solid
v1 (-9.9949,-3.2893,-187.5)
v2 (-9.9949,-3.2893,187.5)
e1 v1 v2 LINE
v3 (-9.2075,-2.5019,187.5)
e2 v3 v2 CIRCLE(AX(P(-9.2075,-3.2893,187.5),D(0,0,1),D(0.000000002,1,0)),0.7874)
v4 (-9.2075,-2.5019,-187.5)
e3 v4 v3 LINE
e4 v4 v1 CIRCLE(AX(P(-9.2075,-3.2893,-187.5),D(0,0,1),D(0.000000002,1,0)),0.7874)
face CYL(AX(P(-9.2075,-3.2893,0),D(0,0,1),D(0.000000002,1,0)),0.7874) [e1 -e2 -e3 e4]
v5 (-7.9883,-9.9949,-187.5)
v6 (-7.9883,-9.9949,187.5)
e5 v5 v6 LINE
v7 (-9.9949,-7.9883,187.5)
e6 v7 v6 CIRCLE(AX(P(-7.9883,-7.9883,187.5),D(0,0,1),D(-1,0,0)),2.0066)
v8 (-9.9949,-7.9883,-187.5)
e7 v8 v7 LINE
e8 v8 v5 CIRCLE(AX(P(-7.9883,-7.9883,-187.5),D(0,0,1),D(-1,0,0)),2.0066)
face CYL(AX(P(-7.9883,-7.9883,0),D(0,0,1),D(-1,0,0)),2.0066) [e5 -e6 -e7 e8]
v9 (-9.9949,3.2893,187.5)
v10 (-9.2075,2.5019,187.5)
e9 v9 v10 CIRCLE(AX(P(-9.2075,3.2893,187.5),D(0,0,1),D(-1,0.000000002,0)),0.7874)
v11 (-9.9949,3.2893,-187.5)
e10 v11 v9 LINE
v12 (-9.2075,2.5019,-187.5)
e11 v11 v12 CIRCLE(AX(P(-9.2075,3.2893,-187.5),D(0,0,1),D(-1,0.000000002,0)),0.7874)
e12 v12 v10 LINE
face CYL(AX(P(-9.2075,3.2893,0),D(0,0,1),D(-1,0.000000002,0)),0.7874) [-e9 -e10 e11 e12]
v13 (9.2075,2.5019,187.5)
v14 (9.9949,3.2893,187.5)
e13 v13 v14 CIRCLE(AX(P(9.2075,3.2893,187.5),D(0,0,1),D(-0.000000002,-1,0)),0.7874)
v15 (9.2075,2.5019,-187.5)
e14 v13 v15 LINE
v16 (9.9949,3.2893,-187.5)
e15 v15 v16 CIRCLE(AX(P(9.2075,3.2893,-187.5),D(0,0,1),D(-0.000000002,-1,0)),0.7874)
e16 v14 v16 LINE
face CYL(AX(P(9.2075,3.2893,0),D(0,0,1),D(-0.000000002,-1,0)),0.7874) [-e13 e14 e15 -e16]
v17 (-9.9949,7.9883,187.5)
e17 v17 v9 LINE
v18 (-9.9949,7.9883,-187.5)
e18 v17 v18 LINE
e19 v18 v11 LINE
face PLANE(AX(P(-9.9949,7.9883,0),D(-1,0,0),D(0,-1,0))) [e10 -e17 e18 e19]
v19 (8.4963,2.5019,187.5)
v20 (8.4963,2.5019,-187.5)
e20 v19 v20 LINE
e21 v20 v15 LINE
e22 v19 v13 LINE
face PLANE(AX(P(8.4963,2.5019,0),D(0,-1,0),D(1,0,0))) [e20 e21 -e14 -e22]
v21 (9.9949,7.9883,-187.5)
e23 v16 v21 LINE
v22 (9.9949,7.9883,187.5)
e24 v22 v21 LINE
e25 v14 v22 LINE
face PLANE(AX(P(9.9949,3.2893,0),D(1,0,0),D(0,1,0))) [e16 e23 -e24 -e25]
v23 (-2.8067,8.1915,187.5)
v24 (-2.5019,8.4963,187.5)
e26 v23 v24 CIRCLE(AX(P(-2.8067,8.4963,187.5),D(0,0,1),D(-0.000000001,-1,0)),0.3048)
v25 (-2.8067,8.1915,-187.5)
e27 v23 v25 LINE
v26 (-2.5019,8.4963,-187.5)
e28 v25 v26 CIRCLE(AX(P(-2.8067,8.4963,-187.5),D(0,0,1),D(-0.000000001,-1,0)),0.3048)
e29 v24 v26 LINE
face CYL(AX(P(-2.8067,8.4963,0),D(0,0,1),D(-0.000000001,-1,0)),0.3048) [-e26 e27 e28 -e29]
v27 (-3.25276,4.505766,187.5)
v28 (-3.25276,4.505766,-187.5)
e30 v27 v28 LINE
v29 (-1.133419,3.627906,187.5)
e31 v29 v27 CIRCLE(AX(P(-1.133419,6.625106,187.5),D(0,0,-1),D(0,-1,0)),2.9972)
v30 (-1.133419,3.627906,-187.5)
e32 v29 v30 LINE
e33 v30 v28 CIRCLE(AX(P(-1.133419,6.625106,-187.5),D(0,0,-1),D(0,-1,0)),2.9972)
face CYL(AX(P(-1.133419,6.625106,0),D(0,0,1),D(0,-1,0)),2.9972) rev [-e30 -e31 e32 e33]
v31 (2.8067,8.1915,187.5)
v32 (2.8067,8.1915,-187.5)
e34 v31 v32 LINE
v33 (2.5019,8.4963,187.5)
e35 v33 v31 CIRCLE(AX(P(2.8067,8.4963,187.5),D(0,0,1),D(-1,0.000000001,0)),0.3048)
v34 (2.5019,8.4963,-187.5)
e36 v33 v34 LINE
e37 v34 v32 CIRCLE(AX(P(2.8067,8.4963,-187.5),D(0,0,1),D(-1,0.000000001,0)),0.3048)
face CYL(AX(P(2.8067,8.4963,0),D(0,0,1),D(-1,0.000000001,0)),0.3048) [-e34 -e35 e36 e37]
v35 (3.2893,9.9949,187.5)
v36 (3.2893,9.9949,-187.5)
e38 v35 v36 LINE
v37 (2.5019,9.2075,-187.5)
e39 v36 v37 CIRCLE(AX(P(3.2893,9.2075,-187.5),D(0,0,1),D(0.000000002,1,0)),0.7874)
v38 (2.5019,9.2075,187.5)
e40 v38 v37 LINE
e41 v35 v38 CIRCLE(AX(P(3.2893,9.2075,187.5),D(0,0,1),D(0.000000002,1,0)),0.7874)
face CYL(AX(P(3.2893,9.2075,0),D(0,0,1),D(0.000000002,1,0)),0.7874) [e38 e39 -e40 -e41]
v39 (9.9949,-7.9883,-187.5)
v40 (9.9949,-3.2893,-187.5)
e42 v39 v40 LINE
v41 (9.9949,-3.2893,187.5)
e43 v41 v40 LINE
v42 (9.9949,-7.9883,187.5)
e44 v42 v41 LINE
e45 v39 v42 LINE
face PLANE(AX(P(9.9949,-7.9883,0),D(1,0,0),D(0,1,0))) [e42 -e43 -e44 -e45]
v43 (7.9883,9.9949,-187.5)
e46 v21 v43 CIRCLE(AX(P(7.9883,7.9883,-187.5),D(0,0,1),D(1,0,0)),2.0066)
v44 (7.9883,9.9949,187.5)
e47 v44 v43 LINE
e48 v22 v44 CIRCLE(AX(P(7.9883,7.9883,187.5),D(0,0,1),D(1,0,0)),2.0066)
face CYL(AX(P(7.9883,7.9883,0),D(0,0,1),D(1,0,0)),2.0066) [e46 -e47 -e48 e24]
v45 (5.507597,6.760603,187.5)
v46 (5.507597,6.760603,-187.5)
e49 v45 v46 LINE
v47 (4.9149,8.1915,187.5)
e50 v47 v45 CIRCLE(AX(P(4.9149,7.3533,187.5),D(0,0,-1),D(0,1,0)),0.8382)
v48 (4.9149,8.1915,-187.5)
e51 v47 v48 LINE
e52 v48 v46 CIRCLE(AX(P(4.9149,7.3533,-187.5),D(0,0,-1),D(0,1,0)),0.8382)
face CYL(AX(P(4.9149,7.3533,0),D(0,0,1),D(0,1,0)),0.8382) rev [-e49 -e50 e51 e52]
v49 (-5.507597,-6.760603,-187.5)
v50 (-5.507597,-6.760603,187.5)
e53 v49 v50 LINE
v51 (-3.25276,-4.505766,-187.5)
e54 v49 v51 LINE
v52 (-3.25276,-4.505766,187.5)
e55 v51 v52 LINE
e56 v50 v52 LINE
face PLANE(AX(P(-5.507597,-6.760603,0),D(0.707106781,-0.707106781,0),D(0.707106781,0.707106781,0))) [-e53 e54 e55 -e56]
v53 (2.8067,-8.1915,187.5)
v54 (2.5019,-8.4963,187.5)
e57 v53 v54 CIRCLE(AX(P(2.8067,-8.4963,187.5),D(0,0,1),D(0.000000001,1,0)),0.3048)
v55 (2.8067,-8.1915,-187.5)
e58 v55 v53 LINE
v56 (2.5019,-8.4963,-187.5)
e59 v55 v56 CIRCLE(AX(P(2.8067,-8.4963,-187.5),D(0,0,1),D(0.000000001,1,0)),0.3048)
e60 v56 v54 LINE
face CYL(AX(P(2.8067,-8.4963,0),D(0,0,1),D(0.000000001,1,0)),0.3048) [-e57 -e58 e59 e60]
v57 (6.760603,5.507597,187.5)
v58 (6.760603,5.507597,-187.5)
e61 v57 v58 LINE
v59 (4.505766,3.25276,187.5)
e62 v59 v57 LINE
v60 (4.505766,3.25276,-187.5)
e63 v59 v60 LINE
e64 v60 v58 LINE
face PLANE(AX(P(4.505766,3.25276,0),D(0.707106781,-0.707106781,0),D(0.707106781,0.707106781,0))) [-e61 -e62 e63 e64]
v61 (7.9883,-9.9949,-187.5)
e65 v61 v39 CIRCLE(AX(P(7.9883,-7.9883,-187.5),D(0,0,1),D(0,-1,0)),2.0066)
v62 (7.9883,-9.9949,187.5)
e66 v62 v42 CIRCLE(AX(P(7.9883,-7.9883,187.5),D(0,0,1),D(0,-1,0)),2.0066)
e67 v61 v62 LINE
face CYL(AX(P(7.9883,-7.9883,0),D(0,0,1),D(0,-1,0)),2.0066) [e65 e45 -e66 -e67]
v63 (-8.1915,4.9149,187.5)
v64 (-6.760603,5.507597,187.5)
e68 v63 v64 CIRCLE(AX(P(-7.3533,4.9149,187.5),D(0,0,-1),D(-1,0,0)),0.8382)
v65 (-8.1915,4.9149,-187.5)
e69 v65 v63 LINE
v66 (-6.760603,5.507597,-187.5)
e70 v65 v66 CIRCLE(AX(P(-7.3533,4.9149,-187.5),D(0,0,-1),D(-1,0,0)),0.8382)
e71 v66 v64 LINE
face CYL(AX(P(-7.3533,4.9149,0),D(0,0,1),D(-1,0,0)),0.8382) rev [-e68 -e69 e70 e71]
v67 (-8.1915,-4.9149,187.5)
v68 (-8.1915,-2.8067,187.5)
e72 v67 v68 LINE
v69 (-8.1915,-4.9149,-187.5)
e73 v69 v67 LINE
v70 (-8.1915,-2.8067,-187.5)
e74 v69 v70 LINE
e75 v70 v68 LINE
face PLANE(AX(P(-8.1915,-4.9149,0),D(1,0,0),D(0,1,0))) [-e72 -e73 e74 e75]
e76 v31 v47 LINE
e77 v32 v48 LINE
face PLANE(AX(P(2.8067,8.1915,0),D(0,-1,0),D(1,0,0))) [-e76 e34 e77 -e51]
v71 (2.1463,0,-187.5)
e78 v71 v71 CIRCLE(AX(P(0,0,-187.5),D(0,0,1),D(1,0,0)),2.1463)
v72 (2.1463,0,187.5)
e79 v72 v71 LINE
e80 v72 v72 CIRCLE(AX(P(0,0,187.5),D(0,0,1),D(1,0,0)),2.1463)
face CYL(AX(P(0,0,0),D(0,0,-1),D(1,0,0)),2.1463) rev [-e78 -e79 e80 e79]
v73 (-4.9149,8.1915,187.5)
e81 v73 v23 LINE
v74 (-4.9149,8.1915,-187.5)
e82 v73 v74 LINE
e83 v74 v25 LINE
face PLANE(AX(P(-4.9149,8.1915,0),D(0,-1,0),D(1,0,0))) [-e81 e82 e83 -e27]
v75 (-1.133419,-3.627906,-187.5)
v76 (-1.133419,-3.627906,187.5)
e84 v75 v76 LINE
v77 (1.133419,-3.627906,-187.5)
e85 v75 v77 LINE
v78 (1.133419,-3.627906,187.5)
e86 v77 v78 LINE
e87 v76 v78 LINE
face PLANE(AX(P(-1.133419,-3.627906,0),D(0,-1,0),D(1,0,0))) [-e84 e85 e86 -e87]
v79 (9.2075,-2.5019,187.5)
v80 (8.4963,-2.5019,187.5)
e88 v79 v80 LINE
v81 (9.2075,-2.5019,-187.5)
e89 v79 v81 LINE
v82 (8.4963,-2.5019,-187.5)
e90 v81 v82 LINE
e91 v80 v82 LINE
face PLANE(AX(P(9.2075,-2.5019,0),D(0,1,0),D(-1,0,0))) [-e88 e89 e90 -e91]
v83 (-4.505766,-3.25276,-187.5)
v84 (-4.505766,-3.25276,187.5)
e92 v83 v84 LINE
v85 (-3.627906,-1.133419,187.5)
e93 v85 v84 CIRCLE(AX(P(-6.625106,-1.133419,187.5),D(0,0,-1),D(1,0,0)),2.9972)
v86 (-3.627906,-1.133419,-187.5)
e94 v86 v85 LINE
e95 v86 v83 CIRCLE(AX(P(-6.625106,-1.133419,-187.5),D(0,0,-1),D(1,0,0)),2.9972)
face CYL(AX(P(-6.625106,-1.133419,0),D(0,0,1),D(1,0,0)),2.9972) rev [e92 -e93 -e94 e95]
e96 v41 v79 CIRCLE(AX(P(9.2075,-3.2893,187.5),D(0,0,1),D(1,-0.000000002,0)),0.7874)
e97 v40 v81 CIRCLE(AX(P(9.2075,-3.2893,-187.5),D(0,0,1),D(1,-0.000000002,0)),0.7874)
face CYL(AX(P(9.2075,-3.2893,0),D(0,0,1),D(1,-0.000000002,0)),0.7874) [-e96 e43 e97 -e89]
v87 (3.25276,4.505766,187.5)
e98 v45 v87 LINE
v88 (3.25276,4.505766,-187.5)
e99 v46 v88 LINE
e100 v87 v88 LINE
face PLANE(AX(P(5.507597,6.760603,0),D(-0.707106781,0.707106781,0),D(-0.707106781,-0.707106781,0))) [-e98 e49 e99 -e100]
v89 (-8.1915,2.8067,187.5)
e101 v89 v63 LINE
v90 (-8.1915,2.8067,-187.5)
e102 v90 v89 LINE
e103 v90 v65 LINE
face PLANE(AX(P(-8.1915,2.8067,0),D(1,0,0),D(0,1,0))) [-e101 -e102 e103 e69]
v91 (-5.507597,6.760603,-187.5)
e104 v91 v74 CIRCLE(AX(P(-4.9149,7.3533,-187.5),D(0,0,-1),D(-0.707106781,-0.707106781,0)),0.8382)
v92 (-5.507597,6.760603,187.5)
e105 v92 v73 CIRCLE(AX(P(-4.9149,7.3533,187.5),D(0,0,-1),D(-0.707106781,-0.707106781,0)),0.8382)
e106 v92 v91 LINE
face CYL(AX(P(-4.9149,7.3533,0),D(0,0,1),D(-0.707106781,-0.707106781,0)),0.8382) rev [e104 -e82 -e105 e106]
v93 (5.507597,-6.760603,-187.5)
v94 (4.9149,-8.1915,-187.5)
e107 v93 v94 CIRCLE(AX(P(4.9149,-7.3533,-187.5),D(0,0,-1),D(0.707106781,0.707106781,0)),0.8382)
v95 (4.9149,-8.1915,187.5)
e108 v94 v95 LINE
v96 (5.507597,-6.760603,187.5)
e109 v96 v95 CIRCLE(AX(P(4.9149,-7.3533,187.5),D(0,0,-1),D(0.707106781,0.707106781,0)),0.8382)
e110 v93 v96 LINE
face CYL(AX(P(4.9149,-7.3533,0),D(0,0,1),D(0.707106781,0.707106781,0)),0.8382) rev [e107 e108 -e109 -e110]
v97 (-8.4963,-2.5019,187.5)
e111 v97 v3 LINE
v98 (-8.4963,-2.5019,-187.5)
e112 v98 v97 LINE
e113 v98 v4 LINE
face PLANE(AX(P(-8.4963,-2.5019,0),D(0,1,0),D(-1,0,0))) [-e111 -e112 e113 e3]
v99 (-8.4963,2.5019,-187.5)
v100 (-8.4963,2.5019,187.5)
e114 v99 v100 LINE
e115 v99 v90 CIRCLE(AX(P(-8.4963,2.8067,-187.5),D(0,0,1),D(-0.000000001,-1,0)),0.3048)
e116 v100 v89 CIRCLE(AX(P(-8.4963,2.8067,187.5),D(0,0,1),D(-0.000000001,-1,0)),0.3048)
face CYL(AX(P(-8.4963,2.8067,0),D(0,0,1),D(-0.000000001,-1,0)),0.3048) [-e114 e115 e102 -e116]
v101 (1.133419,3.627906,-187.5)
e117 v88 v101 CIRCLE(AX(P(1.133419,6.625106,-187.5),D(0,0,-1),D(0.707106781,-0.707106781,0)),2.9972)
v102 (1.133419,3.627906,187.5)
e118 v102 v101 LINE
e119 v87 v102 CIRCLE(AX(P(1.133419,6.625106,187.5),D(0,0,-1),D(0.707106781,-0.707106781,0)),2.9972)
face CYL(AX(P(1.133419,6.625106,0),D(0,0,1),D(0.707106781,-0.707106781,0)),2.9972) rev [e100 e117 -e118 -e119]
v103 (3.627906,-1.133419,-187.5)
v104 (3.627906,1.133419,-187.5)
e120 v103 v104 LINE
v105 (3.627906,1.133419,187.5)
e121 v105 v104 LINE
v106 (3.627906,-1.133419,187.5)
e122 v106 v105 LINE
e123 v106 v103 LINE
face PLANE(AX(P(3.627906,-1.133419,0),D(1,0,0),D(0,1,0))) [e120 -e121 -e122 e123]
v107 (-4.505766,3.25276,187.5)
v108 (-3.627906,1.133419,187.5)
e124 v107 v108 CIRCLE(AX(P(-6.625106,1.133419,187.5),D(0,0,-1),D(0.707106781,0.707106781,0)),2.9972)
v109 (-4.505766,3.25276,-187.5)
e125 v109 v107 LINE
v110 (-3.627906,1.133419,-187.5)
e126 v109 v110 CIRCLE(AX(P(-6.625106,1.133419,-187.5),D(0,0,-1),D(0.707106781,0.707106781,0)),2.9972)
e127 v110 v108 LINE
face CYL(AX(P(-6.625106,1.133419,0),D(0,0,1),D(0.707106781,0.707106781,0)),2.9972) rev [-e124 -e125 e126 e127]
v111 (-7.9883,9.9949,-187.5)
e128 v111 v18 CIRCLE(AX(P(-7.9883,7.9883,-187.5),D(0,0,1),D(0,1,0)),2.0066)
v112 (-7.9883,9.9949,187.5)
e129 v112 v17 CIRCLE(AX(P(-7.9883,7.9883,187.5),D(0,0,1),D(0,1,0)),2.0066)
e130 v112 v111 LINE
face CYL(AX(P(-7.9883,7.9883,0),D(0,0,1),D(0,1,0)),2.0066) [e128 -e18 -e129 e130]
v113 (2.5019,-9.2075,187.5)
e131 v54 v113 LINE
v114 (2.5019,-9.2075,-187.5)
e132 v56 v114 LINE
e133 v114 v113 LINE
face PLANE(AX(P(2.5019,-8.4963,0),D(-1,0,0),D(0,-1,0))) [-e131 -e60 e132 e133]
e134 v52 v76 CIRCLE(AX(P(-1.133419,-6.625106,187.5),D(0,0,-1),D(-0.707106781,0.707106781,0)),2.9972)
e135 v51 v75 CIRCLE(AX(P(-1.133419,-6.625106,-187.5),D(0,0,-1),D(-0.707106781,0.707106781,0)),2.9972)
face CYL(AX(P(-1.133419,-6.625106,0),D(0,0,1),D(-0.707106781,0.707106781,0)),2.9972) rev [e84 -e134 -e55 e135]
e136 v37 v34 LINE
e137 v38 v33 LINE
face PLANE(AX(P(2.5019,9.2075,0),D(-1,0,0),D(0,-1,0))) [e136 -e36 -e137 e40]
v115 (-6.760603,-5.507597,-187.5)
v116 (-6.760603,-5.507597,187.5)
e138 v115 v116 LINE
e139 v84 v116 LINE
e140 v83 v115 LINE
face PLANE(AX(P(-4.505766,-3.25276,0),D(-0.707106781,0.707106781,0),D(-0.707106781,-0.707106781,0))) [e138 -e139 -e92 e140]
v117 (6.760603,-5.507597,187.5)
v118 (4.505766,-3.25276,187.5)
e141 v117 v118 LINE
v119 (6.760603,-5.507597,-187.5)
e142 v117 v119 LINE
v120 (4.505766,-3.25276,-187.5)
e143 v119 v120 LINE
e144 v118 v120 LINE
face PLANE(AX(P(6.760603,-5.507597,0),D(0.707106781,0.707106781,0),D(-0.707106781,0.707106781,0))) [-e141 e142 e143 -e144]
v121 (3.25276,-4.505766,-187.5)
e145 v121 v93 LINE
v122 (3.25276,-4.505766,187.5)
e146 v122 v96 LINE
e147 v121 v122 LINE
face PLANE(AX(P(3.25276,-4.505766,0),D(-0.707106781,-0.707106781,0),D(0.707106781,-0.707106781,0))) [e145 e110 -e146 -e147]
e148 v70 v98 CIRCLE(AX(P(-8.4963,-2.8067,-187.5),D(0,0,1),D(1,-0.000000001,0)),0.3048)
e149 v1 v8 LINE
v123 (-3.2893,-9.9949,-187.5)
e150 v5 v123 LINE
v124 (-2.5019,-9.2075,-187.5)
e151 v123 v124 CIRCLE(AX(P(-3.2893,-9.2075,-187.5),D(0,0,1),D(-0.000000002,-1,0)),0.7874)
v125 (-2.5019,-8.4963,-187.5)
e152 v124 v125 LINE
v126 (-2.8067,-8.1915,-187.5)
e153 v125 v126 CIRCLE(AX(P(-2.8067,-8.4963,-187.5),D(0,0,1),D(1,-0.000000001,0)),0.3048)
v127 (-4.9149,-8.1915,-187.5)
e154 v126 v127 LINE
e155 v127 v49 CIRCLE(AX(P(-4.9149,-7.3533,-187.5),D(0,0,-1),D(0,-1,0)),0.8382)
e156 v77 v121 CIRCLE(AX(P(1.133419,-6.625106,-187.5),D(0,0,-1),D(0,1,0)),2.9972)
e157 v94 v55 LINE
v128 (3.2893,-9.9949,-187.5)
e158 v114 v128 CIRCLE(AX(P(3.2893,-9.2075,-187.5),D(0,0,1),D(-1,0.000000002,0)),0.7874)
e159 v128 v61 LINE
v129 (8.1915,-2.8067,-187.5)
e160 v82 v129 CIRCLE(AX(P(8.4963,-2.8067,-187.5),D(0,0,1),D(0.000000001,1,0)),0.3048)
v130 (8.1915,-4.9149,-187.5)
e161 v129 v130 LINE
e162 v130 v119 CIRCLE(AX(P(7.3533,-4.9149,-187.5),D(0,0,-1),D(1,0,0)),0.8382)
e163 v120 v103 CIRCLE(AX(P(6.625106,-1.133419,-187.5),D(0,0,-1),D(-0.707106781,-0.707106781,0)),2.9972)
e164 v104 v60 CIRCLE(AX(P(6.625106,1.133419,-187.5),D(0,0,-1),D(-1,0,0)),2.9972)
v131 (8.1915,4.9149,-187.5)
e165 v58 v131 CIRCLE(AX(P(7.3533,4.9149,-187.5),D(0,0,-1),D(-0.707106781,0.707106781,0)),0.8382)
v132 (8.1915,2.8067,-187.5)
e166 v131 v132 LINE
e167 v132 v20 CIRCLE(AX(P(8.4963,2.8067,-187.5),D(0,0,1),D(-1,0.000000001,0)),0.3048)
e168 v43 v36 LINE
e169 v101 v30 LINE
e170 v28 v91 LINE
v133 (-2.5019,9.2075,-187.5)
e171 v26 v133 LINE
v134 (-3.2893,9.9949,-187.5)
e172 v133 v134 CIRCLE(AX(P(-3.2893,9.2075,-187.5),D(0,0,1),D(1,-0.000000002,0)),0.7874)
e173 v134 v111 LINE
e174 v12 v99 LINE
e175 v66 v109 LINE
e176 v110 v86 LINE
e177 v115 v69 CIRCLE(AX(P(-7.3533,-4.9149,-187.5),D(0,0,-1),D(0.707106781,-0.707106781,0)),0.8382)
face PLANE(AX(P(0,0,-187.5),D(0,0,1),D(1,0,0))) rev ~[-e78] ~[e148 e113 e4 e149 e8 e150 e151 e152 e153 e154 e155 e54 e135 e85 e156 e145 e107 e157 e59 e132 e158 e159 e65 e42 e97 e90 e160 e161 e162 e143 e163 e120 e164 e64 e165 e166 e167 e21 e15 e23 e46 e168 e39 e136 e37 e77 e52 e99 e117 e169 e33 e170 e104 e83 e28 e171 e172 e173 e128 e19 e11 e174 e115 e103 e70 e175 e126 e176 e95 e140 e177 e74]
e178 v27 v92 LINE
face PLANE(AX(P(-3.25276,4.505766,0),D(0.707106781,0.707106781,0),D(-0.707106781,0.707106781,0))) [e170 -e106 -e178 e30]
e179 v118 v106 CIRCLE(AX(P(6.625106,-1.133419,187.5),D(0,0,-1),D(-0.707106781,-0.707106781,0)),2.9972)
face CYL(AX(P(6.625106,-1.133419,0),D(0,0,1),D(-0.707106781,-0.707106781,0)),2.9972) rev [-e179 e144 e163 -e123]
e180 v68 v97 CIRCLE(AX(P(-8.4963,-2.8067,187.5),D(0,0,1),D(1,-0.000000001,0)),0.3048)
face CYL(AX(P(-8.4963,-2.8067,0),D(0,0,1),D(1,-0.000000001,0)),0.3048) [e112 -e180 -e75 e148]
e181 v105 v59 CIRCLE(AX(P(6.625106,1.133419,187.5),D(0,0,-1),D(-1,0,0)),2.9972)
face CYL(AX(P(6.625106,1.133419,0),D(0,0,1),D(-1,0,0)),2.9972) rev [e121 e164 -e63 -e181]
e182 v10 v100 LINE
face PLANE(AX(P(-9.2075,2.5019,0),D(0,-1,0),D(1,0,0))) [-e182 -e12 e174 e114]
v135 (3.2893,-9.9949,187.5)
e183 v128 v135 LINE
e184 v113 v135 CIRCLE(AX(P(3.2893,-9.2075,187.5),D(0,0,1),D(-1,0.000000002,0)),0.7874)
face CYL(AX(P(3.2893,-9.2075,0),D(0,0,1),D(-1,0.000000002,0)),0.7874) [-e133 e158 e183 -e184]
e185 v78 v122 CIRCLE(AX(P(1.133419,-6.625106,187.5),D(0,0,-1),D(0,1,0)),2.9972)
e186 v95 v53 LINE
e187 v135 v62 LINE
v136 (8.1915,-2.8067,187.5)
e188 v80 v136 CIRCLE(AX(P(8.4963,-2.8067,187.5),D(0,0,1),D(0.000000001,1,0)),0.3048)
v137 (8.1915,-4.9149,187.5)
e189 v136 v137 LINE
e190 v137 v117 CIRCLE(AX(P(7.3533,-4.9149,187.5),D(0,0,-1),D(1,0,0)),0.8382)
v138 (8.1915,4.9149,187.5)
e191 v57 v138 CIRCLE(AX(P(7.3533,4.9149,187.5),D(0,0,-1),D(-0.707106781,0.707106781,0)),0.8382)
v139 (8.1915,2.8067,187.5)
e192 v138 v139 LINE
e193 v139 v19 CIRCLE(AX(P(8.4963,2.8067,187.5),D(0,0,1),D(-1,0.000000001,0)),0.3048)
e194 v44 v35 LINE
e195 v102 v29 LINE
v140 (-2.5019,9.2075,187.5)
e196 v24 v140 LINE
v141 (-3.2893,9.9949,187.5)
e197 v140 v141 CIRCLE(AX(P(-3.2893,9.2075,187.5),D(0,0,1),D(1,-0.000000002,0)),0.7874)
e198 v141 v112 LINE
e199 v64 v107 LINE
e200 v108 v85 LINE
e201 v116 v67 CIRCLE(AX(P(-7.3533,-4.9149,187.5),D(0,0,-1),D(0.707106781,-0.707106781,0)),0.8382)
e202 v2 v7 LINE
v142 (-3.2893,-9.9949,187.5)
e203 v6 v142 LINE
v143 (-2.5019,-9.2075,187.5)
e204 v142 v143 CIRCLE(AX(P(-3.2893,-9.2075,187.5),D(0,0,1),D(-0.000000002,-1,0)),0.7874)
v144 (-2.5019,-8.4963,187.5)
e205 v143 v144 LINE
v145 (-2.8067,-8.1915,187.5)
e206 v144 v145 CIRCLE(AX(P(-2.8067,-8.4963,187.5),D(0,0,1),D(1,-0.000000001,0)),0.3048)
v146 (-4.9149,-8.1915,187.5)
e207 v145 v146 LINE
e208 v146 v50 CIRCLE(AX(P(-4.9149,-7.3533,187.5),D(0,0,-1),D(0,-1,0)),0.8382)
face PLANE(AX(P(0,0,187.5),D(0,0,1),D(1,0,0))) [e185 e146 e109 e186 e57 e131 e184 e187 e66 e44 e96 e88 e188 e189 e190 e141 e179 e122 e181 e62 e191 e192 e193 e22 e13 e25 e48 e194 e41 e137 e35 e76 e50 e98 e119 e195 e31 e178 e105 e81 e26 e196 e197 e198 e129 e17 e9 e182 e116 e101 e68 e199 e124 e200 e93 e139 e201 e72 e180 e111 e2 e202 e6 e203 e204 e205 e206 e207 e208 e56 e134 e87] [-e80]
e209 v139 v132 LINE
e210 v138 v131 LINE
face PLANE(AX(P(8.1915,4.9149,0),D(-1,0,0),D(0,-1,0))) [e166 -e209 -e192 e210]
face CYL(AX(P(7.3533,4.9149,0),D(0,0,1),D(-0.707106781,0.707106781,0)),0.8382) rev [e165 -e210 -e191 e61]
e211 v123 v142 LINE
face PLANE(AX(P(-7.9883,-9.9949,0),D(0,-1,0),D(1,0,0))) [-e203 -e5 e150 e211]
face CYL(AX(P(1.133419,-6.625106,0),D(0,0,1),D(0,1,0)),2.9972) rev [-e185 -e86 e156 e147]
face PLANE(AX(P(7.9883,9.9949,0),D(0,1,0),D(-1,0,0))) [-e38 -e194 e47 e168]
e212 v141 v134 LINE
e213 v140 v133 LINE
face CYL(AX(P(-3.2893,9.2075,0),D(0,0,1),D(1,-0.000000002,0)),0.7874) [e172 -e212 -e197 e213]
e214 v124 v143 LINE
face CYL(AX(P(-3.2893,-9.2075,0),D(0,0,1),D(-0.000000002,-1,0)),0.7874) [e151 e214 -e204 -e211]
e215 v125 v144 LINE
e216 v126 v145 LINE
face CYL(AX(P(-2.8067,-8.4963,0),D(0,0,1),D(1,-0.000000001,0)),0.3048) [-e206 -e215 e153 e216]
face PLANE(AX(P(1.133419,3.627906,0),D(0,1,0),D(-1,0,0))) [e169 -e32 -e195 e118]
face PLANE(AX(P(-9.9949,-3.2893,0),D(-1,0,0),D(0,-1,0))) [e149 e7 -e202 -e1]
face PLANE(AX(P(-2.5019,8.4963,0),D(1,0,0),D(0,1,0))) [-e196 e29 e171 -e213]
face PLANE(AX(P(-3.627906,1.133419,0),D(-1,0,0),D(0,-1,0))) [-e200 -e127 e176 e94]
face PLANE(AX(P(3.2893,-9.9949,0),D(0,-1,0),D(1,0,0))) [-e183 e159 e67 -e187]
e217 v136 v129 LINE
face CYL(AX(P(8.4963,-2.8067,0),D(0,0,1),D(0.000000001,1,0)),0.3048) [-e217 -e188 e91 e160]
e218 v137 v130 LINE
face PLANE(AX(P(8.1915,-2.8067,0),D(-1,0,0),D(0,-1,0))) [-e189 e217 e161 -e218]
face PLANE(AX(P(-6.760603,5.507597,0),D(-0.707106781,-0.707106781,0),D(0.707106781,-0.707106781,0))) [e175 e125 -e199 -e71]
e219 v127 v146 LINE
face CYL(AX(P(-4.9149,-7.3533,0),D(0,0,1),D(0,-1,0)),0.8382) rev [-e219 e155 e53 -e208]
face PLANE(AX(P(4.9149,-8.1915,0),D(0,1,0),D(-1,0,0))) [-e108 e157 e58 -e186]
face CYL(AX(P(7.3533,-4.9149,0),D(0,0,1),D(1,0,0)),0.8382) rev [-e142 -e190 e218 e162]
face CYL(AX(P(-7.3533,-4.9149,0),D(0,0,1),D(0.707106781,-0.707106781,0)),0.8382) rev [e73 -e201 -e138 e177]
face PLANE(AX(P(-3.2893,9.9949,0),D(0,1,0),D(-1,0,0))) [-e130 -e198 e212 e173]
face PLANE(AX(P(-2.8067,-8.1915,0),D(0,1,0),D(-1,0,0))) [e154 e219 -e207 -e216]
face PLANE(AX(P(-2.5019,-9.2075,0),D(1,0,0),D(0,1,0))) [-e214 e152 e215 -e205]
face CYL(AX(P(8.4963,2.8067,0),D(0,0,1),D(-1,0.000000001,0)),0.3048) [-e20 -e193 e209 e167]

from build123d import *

# Parameters (mm, degrees)
SKETCH1_R           = 2.1463
BOSS_EXTRUDE1_DEPTH = 187.5


with BuildPart() as part:
    # Sketch1 → Boss-Extrude1 (new body, symmetric)
    with BuildSketch(Plane.XY):
        with BuildLine():
            Line((-9.9949, 7.9883), (-9.9949, 3.2893))
            ThreePointArc((-9.9949, 3.2893), (-9.76427588, 2.73252412), (-9.2075, 2.5019))
            Line((-9.2075, 2.5019), (-8.4963, 2.5019))
            ThreePointArc((-8.4963, 2.5019), (-8.280773853, 2.591173853), (-8.1915, 2.8067))
            Line((-8.1915, 2.8067), (-8.1915, 4.9149))
            ThreePointArc((-8.1915, 4.9149), (-7.674065253, 5.689295824), (-6.760603096, 5.507596904))
            Line((-6.760603096, 5.507596904), (-4.505765747, 3.252759555))
            ThreePointArc((-4.505765747, 3.252759555), (-3.856054457, 2.280397894), (-3.627906192, 1.133419111))
            Line((-3.627906192, 1.133419111), (-3.627906192, -1.133419111))
            ThreePointArc((-3.627906192, -1.133419111), (-3.856054457, -2.280397894), (-4.505765747, -3.252759555))
            Line((-4.505765747, -3.252759555), (-6.760603096, -5.507596904))
            ThreePointArc((-6.760603096, -5.507596904), (-7.674065253, -5.689295824), (-8.1915, -4.9149))
            Line((-8.1915, -4.9149), (-8.1915, -2.8067))
            ThreePointArc((-8.1915, -2.8067), (-8.280773853, -2.591173853), (-8.4963, -2.5019))
            Line((-8.4963, -2.5019), (-9.2075, -2.5019))
            ThreePointArc((-9.2075, -2.5019), (-9.76427588, -2.73252412), (-9.9949, -3.2893))
            Line((-9.9949, -3.2893), (-9.9949, -7.9883))
            ThreePointArc((-9.9949, -7.9883), (-9.407180467, -9.407180467), (-7.9883, -9.9949))
            Line((-7.9883, -9.9949), (-3.2893, -9.9949))
            ThreePointArc((-3.2893, -9.9949), (-2.73252412, -9.76427588), (-2.5019, -9.2075))
            Line((-2.5019, -9.2075), (-2.5019, -8.4963))
            ThreePointArc((-2.5019, -8.4963), (-2.591173853, -8.280773853), (-2.8067, -8.1915))
            Line((-2.8067, -8.1915), (-4.9149, -8.1915))
            ThreePointArc((-4.9149, -8.1915), (-5.689295824, -7.674065253), (-5.507596904, -6.760603096))
            Line((-5.507596904, -6.760603096), (-3.252759555, -4.505765747))
            ThreePointArc((-3.252759555, -4.505765747), (-2.280397894, -3.856054457), (-1.133419111, -3.627906192))
            Line((-1.133419111, -3.627906192), (1.133419111, -3.627906192))
            ThreePointArc((1.133419111, -3.627906192), (2.280397894, -3.856054457), (3.252759555, -4.505765747))
            Line((3.252759555, -4.505765747), (5.507596904, -6.760603096))
            ThreePointArc((5.507596904, -6.760603096), (5.689295824, -7.674065253), (4.9149, -8.1915))
            Line((4.9149, -8.1915), (2.8067, -8.1915))
            ThreePointArc((2.8067, -8.1915), (2.591173853, -8.280773853), (2.5019, -8.4963))
            Line((2.5019, -8.4963), (2.5019, -9.2075))
            ThreePointArc((2.5019, -9.2075), (2.73252412, -9.76427588), (3.2893, -9.9949))
            Line((3.2893, -9.9949), (7.9883, -9.9949))
            ThreePointArc((7.9883, -9.9949), (9.407180467, -9.407180467), (9.9949, -7.9883))
            Line((9.9949, -7.9883), (9.9949, -3.2893))
            ThreePointArc((9.9949, -3.2893), (9.76427588, -2.73252412), (9.2075, -2.5019))
            Line((9.2075, -2.5019), (8.4963, -2.5019))
            ThreePointArc((8.4963, -2.5019), (8.280773853, -2.591173853), (8.1915, -2.8067))
            Line((8.1915, -2.8067), (8.1915, -4.9149))
            ThreePointArc((8.1915, -4.9149), (7.674065253, -5.689295824), (6.760603096, -5.507596904))
            Line((6.760603096, -5.507596904), (4.505765747, -3.252759555))
            ThreePointArc((4.505765747, -3.252759555), (3.856054457, -2.280397894), (3.627906192, -1.133419111))
            Line((3.627906192, -1.133419111), (3.627906192, 1.133419111))
            ThreePointArc((3.627906192, 1.133419111), (3.856054457, 2.280397894), (4.505765747, 3.252759555))
            Line((4.505765747, 3.252759555), (6.760603096, 5.507596904))
            ThreePointArc((6.760603096, 5.507596904), (7.674065253, 5.689295824), (8.1915, 4.9149))
            Line((8.1915, 4.9149), (8.1915, 2.8067))
            ThreePointArc((8.1915, 2.8067), (8.280773853, 2.591173853), (8.4963, 2.5019))
            Line((8.4963, 2.5019), (9.2075, 2.5019))
            ThreePointArc((9.2075, 2.5019), (9.76427588, 2.73252412), (9.9949, 3.2893))
            Line((9.9949, 3.2893), (9.9949, 7.9883))
            ThreePointArc((9.9949, 7.9883), (9.407180467, 9.407180467), (7.9883, 9.9949))
            Line((7.9883, 9.9949), (3.2893, 9.9949))
            ThreePointArc((3.2893, 9.9949), (2.73252412, 9.76427588), (2.5019, 9.2075))
            Line((2.5019, 9.2075), (2.5019, 8.4963))
            ThreePointArc((2.5019, 8.4963), (2.591173853, 8.280773853), (2.8067, 8.1915))
            Line((2.8067, 8.1915), (4.9149, 8.1915))
            ThreePointArc((4.9149, 8.1915), (5.689295824, 7.674065253), (5.507596904, 6.760603096))
            Line((5.507596904, 6.760603096), (3.252759555, 4.505765747))
            ThreePointArc((3.252759555, 4.505765747), (2.280397894, 3.856054457), (1.133419111, 3.627906192))
            Line((1.133419111, 3.627906192), (-1.133419111, 3.627906192))
            ThreePointArc((-1.133419111, 3.627906192), (-2.280397894, 3.856054457), (-3.252759555, 4.505765747))
            Line((-3.252759555, 4.505765747), (-5.507596904, 6.760603096))
            ThreePointArc((-5.507596904, 6.760603096), (-5.689295824, 7.674065253), (-4.9149, 8.1915))
            Line((-4.9149, 8.1915), (-2.8067, 8.1915))
            ThreePointArc((-2.8067, 8.1915), (-2.591173853, 8.280773853), (-2.5019, 8.4963))
            Line((-2.5019, 8.4963), (-2.5019, 9.2075))
            ThreePointArc((-2.5019, 9.2075), (-2.73252412, 9.76427588), (-3.2893, 9.9949))
            Line((-3.2893, 9.9949), (-7.9883, 9.9949))
            ThreePointArc((-7.9883, 9.9949), (-9.407180467, 9.407180467), (-9.9949, 7.9883))
        make_face()
        Circle(SKETCH1_R, mode=Mode.SUBTRACT)
    extrude(amount=BOSS_EXTRUDE1_DEPTH, both=True)


solid = part.part
